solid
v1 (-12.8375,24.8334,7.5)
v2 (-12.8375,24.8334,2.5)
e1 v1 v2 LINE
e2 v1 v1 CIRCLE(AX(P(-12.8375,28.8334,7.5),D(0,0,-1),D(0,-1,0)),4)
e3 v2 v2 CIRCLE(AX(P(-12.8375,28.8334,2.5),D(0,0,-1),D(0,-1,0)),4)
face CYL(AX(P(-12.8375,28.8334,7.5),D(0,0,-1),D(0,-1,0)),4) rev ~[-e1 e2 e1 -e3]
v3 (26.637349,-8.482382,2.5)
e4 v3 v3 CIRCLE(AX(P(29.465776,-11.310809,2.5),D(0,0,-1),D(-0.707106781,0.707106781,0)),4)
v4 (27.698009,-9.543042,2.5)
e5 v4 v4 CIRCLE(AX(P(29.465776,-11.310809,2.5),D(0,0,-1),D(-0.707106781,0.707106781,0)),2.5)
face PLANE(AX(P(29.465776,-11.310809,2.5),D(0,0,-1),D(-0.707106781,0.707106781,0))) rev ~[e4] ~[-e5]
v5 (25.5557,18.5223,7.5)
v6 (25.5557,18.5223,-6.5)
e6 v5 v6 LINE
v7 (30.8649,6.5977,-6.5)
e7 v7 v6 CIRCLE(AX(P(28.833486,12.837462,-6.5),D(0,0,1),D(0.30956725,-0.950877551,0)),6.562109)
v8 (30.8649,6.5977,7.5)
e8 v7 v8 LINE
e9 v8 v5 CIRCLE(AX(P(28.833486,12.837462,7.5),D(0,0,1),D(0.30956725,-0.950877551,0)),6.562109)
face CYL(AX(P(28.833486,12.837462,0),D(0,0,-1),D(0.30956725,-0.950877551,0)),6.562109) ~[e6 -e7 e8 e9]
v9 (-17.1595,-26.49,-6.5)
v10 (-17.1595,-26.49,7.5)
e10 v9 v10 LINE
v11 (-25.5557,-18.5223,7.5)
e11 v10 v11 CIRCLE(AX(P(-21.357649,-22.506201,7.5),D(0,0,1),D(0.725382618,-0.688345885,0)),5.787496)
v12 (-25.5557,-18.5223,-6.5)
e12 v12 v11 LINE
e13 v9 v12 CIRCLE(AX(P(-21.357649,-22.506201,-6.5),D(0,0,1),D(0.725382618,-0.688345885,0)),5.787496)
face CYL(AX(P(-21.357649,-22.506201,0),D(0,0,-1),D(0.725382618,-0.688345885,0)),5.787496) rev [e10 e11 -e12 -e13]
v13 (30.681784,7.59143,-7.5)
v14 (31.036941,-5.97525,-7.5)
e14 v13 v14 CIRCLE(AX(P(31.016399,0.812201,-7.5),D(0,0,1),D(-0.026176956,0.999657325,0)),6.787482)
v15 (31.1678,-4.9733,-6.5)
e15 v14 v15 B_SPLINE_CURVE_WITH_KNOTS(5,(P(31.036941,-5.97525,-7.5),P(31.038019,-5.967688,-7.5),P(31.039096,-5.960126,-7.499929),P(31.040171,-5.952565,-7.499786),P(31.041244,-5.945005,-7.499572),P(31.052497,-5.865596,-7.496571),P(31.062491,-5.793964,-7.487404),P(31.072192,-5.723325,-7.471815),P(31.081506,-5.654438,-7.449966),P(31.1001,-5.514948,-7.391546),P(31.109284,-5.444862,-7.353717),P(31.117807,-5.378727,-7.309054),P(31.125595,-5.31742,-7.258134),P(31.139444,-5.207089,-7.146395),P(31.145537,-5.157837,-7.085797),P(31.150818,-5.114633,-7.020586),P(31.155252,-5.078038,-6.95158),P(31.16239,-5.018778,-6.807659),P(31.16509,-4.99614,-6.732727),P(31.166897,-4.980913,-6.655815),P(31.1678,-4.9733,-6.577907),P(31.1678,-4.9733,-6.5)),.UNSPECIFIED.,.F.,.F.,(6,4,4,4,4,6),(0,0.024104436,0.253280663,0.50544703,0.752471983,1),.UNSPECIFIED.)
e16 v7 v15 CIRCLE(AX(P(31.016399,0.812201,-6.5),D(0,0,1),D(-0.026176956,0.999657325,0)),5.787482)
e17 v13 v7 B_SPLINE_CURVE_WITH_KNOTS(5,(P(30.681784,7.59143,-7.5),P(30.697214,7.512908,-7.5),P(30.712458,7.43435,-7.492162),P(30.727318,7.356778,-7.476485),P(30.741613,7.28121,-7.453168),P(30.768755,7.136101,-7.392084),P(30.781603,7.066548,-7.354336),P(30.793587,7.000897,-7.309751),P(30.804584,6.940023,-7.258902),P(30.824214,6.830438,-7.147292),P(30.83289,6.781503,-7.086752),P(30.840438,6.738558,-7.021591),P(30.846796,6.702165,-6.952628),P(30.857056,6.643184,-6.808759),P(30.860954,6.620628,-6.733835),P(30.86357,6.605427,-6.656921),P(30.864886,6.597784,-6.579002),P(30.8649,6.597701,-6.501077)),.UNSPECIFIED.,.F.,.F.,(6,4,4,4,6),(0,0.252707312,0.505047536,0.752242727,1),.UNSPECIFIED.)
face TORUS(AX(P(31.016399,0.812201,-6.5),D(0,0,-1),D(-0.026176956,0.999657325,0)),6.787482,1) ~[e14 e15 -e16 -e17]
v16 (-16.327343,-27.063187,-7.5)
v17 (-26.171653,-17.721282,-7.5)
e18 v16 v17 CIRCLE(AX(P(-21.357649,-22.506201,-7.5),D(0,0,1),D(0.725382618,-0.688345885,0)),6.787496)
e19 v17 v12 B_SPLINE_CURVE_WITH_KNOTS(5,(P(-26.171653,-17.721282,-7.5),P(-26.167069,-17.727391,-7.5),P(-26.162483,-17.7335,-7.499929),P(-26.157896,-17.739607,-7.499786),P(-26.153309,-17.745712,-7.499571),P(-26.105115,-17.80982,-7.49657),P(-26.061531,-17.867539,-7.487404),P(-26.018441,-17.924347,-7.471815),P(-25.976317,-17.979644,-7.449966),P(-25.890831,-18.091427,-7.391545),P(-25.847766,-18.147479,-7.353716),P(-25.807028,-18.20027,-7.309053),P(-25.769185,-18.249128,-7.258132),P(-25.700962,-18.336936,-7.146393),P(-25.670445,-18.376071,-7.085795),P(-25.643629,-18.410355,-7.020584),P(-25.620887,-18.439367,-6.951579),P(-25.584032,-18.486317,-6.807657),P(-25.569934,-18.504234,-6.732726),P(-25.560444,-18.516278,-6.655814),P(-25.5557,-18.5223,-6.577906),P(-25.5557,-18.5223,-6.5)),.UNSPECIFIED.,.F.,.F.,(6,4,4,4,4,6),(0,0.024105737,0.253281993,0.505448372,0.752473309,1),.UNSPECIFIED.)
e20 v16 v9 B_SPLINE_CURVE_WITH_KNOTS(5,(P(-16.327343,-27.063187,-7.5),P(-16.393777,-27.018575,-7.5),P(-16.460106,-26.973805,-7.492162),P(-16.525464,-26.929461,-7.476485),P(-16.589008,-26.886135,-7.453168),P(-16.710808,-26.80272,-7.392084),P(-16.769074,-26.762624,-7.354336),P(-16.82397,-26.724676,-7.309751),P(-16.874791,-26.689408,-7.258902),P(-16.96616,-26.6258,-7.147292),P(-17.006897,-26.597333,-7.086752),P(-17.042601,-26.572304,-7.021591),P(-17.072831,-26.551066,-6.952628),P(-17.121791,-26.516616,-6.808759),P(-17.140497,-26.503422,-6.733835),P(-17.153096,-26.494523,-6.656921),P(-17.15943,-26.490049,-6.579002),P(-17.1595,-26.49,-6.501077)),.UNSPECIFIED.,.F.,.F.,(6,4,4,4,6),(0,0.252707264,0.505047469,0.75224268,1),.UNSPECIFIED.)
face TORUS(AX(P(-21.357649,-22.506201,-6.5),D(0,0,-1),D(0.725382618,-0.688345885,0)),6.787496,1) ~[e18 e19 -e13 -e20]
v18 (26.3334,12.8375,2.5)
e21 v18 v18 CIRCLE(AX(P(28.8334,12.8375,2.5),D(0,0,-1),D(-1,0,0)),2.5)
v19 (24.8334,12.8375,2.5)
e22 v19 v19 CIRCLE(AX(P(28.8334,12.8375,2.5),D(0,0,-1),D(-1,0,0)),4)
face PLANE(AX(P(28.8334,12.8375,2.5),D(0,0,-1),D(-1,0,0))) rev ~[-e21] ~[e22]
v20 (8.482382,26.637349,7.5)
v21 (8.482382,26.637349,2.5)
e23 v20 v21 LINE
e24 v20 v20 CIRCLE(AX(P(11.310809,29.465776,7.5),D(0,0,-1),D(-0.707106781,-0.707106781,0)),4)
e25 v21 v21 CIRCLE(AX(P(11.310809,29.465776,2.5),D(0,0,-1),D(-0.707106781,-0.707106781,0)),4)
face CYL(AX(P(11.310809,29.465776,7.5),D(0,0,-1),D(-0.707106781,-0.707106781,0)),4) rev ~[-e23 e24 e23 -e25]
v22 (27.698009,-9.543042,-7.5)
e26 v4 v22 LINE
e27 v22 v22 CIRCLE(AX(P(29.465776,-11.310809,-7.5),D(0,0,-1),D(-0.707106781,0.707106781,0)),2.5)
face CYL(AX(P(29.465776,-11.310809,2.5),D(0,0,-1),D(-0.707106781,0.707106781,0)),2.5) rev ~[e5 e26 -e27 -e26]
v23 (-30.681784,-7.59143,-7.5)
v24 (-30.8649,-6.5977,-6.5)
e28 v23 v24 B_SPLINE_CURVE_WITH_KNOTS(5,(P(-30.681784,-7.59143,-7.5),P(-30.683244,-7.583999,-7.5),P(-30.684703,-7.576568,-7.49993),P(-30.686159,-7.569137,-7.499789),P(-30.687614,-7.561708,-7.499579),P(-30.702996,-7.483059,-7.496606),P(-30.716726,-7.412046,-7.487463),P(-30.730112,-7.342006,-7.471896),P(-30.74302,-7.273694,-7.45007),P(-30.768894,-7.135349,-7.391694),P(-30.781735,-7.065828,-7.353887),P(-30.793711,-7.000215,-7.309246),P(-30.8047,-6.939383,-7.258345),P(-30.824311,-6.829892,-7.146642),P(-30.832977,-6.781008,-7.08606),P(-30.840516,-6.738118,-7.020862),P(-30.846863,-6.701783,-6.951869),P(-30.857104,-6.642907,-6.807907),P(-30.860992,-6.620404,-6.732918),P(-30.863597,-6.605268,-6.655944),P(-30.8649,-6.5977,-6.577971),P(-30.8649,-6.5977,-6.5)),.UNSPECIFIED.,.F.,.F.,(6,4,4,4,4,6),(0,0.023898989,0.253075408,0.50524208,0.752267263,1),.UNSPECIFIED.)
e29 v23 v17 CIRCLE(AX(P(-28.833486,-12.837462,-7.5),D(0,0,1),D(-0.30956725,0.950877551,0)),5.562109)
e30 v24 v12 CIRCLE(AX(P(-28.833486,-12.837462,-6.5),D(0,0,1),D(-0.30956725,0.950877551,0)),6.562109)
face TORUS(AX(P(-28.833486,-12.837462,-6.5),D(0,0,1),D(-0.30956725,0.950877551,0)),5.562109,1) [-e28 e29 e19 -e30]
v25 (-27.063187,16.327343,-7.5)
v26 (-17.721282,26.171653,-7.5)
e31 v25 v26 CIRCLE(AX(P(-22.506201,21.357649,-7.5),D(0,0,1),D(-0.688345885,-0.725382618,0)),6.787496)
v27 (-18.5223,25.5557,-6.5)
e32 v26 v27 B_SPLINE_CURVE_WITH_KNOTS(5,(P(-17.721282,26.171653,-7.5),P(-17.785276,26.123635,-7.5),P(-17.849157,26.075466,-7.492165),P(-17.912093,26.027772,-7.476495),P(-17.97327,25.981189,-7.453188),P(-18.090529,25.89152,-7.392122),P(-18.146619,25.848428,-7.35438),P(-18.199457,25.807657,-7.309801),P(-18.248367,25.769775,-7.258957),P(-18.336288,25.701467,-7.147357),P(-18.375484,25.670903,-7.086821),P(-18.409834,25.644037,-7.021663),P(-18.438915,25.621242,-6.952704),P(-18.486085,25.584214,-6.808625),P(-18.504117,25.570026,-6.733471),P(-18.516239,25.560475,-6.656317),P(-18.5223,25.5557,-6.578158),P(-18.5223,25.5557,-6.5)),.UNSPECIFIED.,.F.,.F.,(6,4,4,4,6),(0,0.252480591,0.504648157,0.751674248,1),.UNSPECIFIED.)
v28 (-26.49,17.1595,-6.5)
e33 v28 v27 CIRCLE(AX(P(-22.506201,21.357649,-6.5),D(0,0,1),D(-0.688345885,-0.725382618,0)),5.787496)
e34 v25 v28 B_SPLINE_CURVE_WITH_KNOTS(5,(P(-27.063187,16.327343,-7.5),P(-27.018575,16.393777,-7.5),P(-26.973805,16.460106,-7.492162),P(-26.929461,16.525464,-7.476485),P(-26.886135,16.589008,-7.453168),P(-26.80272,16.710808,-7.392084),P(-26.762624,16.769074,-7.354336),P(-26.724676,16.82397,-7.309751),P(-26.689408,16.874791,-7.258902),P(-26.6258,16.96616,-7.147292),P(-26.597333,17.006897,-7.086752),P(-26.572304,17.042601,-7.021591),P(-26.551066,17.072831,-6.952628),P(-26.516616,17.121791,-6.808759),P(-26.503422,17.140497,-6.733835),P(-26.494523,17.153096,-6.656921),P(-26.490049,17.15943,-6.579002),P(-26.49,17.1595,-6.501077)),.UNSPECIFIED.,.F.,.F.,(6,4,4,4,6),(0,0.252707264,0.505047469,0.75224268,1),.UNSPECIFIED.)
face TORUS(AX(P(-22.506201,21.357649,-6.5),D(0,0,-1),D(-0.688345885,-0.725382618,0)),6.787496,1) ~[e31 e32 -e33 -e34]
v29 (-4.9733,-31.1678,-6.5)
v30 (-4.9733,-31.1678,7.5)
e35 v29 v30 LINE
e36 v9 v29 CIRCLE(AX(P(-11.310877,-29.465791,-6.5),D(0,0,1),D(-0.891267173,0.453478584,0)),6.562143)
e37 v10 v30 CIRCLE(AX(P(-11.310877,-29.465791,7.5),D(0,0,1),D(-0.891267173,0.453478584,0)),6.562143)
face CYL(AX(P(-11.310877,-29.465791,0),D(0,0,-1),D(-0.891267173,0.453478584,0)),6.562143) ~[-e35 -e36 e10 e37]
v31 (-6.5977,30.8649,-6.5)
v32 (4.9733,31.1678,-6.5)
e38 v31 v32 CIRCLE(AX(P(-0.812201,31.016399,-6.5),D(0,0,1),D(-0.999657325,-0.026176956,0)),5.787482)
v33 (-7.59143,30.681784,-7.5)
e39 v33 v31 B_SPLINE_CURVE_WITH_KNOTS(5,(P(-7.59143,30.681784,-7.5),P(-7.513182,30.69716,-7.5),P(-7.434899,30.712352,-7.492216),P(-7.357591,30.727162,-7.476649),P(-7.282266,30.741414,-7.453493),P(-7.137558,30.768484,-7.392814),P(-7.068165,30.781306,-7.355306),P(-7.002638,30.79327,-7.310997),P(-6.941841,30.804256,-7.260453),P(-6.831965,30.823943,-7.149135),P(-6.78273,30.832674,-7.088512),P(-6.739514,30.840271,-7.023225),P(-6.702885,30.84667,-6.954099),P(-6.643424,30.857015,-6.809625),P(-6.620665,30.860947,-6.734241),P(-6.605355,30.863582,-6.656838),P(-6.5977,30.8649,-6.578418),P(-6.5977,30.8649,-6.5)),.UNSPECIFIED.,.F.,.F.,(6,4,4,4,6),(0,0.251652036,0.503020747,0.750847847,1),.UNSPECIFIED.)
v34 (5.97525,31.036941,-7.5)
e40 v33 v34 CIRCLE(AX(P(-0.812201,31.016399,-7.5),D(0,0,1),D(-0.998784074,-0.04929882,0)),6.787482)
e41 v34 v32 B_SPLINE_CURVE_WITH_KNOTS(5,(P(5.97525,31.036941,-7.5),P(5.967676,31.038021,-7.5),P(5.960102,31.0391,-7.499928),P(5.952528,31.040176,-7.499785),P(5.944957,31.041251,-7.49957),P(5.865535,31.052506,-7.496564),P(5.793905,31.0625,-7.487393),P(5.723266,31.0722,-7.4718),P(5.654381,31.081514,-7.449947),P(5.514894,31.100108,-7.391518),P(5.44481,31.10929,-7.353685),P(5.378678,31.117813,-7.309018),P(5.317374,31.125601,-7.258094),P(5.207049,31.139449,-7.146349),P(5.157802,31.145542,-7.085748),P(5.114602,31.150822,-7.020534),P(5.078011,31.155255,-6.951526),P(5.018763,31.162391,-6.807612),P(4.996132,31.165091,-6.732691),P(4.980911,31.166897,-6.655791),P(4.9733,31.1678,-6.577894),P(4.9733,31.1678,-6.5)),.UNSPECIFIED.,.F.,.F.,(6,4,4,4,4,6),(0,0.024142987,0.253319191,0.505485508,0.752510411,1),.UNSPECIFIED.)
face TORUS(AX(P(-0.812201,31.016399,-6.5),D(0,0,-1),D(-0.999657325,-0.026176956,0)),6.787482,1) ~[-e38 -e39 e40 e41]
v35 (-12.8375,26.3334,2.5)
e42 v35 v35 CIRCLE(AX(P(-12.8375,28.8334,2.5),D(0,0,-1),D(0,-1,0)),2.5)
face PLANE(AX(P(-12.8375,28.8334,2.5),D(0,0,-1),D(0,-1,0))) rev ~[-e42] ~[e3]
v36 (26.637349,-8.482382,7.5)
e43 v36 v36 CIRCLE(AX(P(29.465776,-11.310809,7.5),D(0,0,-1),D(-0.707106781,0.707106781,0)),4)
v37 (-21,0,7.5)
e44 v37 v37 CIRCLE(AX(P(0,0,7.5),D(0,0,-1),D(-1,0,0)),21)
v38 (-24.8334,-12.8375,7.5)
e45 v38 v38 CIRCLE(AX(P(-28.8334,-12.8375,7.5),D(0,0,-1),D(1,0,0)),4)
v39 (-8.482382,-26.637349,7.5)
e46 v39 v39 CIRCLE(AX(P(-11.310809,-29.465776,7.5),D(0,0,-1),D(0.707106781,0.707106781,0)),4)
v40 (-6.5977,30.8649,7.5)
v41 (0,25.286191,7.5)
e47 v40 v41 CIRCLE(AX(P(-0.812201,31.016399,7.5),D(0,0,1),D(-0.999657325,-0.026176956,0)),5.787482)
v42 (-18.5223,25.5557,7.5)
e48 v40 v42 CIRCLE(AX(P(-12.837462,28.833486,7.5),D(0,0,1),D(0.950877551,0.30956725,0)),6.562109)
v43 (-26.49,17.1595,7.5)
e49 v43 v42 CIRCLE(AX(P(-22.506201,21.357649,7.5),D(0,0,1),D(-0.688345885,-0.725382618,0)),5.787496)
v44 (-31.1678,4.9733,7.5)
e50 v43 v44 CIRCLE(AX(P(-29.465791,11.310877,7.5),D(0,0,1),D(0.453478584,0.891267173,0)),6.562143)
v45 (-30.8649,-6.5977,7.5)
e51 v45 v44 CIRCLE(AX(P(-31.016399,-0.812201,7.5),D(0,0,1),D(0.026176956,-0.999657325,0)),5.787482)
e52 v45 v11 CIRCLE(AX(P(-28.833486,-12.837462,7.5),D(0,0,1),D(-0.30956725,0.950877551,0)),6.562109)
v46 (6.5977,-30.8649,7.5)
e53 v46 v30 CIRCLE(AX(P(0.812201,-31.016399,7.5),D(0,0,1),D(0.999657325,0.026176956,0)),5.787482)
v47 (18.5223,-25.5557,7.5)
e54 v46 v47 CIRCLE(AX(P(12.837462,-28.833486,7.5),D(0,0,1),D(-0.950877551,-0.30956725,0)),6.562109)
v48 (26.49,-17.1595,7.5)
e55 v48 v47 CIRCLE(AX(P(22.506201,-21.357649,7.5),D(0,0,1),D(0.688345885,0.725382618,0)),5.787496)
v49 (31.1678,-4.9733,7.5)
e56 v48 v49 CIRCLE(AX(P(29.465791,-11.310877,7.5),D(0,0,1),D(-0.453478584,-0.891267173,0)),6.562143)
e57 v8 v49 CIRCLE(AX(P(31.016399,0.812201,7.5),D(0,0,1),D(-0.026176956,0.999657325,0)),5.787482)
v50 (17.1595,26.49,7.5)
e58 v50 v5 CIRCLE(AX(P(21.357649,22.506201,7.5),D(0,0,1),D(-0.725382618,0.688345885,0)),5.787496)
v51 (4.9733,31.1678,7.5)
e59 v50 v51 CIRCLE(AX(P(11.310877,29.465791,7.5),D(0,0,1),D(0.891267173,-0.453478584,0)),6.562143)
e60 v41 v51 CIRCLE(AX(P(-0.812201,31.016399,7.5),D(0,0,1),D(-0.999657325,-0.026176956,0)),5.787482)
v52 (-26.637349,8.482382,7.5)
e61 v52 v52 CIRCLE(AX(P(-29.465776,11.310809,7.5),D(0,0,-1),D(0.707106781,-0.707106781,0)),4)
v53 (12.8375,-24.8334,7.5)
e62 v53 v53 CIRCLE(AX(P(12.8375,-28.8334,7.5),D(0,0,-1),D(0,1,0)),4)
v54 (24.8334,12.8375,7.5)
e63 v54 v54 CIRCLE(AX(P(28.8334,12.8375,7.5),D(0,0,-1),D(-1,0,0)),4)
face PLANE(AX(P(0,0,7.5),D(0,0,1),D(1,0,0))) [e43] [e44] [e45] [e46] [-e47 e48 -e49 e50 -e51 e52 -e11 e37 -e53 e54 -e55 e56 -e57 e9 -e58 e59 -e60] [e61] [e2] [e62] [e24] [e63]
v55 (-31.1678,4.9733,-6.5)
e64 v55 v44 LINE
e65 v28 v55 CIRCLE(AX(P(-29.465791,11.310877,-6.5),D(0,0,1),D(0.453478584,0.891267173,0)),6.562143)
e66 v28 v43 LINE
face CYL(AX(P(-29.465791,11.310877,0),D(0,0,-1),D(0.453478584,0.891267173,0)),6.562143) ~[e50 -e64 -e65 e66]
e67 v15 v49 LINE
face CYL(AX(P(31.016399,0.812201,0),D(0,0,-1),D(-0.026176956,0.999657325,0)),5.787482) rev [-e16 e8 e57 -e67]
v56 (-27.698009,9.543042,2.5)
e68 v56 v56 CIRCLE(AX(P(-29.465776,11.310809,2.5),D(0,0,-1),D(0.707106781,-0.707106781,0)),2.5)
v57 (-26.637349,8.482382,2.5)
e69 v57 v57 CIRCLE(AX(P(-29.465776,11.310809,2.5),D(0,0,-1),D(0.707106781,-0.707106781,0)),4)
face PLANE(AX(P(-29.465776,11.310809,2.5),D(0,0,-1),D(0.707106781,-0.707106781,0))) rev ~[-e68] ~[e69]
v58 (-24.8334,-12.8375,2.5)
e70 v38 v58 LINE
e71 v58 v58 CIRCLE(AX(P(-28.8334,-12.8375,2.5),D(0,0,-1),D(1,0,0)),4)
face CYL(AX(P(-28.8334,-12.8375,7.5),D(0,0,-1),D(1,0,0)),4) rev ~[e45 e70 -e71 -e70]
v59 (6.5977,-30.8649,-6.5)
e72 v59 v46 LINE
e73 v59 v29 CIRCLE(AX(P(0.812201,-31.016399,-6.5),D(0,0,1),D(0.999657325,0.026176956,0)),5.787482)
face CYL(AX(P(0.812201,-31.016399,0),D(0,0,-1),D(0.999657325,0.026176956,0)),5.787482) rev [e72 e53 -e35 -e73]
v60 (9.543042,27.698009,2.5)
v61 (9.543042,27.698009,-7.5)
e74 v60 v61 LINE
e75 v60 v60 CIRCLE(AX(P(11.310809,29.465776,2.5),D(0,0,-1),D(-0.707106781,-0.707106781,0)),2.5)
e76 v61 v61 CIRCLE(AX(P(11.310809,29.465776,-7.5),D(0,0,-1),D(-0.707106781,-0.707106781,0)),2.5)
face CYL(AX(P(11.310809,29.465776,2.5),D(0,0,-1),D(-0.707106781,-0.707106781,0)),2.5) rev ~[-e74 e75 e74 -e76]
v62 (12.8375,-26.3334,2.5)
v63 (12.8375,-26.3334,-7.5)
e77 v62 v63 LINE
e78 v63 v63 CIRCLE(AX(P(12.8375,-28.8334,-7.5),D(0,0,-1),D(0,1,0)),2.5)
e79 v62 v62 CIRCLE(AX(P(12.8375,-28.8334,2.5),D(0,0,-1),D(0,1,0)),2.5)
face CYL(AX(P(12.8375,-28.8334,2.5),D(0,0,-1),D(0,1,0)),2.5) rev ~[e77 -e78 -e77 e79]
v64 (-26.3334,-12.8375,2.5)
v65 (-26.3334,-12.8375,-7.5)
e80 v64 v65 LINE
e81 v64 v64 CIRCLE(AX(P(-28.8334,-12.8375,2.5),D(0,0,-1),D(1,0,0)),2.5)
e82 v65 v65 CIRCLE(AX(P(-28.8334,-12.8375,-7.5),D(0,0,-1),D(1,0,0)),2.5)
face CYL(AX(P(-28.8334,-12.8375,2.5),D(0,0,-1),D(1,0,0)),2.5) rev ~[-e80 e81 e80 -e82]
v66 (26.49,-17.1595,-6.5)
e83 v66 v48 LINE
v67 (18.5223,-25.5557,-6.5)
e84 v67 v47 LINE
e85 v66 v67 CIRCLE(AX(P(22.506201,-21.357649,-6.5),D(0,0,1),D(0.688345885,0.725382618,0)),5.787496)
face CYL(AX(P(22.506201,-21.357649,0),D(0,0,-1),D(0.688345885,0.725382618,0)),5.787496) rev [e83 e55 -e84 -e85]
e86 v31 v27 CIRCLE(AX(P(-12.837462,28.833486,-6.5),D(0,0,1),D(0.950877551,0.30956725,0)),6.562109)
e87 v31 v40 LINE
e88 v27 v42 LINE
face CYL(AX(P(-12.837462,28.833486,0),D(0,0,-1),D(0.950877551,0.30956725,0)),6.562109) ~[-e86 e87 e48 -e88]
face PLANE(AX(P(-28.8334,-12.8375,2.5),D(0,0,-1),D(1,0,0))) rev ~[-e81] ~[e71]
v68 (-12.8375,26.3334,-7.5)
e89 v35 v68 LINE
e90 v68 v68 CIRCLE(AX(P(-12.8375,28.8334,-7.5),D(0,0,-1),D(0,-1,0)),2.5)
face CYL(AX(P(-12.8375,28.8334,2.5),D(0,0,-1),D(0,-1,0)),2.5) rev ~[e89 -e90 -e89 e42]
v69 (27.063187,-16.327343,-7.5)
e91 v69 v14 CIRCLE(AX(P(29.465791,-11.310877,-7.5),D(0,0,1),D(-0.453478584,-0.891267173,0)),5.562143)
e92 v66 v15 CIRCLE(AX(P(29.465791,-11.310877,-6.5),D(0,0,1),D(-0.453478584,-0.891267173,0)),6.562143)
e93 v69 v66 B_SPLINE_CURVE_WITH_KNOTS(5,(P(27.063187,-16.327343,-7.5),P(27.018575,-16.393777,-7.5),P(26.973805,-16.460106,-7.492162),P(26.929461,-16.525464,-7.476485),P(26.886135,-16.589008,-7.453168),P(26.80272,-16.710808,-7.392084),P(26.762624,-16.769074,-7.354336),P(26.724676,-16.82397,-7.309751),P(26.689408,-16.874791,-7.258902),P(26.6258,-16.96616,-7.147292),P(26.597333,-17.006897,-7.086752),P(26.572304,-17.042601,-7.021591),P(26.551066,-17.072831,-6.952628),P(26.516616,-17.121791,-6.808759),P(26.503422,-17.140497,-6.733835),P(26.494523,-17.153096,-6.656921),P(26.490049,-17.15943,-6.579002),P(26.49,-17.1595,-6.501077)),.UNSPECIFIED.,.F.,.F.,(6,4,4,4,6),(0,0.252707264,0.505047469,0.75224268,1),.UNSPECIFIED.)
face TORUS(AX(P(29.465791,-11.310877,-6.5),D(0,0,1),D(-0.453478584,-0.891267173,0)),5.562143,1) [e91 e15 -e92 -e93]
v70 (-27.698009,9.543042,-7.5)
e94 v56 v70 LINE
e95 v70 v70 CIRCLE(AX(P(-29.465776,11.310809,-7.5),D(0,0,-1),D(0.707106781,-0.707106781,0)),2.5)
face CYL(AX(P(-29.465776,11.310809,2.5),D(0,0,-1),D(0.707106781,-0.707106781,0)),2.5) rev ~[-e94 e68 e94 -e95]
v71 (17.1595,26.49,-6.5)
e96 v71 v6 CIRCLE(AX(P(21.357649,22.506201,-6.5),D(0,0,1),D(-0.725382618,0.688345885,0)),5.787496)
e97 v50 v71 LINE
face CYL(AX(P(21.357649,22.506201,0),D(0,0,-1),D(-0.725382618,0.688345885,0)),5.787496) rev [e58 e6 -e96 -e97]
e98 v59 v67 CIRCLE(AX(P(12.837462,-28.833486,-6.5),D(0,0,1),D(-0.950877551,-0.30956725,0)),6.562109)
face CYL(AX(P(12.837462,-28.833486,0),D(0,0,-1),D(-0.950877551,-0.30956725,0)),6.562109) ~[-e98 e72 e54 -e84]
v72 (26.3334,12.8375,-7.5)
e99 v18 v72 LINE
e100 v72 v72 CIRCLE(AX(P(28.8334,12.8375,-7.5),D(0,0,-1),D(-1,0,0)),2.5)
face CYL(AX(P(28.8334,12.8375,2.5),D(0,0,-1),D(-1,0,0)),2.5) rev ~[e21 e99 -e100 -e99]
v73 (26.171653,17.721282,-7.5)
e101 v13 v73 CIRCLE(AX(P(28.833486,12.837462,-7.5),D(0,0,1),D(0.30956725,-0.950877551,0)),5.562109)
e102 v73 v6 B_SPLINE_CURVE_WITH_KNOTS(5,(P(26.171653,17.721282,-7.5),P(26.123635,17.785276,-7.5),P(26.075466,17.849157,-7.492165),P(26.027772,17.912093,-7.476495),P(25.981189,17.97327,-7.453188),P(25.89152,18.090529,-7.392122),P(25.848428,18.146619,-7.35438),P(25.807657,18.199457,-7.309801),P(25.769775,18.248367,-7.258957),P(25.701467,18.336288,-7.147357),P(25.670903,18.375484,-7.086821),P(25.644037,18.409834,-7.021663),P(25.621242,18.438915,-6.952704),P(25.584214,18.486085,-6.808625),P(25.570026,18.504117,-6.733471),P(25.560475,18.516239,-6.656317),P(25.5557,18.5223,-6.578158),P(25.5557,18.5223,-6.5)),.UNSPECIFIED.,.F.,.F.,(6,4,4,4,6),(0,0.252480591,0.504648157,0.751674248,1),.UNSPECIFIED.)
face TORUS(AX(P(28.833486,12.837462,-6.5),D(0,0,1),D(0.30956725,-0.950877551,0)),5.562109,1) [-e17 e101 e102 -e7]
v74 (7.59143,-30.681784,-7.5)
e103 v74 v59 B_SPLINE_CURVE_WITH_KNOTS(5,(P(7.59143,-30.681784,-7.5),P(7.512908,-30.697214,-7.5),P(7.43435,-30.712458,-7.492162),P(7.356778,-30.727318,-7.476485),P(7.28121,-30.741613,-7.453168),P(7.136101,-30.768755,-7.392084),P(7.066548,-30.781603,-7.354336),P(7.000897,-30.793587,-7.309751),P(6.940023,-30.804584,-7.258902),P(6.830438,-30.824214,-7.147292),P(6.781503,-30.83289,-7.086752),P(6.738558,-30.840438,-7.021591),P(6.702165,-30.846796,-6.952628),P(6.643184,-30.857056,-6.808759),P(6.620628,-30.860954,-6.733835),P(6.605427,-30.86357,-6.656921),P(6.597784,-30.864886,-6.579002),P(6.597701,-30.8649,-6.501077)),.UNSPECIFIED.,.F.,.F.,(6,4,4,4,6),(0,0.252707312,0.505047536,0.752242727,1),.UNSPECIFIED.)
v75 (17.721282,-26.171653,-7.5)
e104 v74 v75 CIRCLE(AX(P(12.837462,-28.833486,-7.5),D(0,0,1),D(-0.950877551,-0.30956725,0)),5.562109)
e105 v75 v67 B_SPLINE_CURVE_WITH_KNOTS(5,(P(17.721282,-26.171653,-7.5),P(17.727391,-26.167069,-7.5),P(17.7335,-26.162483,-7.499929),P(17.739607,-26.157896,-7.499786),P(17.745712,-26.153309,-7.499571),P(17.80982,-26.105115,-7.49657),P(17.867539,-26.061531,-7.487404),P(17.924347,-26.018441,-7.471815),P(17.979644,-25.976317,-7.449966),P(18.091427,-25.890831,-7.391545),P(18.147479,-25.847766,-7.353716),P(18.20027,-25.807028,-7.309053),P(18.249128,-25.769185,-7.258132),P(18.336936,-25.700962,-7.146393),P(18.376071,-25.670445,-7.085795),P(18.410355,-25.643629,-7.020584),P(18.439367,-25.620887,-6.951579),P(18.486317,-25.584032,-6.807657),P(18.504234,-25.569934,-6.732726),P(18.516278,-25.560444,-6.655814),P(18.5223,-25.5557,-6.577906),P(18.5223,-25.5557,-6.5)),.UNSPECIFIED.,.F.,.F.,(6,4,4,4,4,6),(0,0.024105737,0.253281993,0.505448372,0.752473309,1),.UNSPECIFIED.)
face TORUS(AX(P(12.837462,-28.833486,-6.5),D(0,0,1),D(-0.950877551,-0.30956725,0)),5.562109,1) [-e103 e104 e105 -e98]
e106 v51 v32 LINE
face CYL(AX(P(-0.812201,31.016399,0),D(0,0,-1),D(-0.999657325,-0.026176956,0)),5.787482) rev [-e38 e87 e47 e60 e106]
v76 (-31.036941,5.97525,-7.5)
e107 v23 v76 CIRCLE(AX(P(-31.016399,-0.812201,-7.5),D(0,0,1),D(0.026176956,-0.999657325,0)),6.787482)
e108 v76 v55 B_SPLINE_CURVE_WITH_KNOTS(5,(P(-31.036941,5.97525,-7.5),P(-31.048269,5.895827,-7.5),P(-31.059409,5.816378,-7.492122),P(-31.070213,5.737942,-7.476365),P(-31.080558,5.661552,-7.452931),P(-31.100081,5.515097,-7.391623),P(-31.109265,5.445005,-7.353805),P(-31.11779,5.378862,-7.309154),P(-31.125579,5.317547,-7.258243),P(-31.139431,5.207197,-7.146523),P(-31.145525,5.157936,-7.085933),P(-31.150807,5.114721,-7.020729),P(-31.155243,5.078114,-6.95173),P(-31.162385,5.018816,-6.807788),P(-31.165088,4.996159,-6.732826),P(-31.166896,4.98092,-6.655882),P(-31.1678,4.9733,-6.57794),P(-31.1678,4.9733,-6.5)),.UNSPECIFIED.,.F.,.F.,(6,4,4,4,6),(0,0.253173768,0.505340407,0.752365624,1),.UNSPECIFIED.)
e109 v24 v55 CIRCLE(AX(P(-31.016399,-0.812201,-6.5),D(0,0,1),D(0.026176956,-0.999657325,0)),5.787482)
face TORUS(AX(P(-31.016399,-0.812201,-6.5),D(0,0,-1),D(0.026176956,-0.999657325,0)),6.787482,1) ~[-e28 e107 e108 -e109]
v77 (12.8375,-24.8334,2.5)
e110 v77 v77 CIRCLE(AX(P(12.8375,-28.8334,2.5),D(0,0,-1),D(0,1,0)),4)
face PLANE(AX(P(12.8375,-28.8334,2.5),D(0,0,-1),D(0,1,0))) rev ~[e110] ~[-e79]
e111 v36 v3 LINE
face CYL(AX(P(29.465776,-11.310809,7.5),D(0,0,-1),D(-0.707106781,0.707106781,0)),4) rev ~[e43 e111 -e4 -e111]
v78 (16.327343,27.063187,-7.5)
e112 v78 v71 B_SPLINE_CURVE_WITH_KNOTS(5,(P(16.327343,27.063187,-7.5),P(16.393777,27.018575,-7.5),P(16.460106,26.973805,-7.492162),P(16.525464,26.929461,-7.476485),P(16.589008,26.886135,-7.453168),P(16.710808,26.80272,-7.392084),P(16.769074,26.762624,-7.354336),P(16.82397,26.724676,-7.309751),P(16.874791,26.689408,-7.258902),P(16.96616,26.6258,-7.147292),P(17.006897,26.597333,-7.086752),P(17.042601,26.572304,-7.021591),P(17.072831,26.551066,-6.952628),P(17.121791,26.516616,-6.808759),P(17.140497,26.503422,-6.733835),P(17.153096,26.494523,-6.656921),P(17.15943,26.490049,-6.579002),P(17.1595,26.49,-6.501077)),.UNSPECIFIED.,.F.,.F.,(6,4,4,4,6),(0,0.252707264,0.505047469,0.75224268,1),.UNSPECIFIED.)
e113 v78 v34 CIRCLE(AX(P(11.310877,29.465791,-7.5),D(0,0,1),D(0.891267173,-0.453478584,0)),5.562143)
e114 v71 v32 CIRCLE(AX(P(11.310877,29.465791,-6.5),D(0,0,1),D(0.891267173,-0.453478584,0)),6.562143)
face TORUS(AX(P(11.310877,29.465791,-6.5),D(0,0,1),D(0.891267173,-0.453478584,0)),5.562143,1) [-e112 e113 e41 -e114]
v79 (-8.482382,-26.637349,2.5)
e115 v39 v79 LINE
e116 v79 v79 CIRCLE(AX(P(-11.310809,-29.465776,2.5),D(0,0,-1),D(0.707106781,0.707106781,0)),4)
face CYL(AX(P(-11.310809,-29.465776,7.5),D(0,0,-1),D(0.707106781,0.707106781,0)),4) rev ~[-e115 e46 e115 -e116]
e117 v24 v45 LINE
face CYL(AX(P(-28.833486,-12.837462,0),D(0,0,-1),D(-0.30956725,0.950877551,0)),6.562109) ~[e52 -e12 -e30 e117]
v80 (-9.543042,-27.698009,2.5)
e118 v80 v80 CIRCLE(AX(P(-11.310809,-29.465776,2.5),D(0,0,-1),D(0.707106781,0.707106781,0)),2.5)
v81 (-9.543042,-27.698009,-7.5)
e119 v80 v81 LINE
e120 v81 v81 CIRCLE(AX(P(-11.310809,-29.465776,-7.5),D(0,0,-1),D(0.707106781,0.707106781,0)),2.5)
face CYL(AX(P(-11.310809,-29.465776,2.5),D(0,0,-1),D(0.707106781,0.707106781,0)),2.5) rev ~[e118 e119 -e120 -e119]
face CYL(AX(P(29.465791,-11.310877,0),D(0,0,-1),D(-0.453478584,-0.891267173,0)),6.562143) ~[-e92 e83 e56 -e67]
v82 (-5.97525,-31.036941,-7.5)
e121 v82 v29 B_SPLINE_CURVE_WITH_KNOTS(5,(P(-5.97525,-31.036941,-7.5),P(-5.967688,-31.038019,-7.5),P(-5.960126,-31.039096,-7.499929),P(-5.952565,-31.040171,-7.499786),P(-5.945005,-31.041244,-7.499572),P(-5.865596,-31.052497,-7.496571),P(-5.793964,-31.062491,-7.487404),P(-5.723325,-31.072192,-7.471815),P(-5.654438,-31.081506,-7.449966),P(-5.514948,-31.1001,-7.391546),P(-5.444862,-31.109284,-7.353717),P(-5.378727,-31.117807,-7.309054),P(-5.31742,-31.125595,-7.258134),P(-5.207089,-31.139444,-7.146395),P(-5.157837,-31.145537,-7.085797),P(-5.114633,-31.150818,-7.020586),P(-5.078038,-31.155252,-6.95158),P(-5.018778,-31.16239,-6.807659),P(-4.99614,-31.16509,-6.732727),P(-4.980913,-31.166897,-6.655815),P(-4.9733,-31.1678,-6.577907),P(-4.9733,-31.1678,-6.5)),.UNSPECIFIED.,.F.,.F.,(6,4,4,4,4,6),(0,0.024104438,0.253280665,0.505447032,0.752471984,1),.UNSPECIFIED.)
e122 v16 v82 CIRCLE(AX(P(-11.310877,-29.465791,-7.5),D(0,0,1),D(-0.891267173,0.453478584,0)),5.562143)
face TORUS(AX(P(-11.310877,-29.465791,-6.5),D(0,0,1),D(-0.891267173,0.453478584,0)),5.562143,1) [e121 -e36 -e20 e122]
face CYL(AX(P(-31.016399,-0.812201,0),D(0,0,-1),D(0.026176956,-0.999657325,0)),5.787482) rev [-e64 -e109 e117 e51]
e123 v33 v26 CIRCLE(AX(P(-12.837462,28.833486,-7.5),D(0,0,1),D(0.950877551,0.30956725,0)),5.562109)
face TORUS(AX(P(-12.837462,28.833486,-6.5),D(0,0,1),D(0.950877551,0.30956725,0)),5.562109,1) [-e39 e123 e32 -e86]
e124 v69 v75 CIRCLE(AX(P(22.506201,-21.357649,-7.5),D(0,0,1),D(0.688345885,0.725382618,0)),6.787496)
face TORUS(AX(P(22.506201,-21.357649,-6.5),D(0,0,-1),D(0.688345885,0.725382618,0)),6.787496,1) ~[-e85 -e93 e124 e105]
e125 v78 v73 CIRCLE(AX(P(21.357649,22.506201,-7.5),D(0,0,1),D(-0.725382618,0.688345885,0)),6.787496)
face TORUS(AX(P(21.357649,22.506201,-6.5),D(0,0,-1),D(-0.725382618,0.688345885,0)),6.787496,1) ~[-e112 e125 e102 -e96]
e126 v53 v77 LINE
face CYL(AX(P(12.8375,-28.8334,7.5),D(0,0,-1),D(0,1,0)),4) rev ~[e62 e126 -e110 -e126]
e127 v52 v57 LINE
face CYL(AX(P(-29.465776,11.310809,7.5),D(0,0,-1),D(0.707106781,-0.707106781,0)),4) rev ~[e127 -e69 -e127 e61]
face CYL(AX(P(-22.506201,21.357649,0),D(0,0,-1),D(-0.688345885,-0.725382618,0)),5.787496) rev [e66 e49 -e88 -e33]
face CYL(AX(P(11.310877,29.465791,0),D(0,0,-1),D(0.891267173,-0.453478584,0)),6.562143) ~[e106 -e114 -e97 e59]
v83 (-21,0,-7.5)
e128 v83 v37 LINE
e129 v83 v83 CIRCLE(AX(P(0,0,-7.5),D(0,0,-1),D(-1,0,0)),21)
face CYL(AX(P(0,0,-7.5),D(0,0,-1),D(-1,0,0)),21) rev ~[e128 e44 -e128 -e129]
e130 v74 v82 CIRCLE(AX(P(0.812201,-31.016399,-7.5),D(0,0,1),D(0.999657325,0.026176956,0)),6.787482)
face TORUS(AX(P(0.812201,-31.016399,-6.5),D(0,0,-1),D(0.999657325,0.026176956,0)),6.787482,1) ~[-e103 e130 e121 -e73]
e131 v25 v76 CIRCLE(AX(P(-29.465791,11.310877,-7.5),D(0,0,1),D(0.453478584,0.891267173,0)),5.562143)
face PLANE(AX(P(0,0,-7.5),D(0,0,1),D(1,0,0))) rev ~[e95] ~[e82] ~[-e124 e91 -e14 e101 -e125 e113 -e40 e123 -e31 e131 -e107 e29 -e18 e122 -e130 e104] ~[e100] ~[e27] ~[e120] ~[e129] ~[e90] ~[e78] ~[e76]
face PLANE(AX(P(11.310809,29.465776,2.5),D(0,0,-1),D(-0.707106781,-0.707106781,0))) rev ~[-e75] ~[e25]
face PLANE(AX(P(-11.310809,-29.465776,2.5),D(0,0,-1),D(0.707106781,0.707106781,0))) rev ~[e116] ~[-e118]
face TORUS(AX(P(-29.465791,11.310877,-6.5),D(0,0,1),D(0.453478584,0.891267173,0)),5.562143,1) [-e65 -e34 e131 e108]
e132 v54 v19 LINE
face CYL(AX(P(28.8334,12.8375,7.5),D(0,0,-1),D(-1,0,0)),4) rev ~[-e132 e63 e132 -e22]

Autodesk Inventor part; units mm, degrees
ref_plane "YZ Plane" through (0, 0, 0) normal (1, 0, 0) x (0, 1, 0)
ref_plane "XZ Plane" through (0, 0, 0) normal (0, 1, 0) x (-1, 0, 0)
ref_plane "XY Plane" through (0, 0, 0) normal (0, 0, 1) x (1, 0, 0)
sketch "Sketch1" plane through (0, 0, 0) normal (0, 0, 1) x (1, 0, 0)
  circle A0 centre (0, 0) radius 25
  line L0 (0, 0) -> (-11.961, 26.8649)
  line L1 (0, 0) -> (-16.8529, 23.196)
  arc A1 (-6.5977, 30.8649) -> (-18.5223, 25.5557) centre (-12.8375, 28.8334) ccw
  circle A2 centre (0, 0) radius 31.5621
  line L2 (0, 0) -> (0, 31.5621)
  line L3 (0, 0) -> (-5.1978, 24.4537)
  arc A3 (-26.49, 17.1595) -> (-31.1678, 4.9733) centre (-29.4658, 11.3109) ccw
  arc A4 (-30.8649, -6.5977) -> (-25.5557, -18.5223) centre (-28.8334, -12.8375) ccw
  arc A5 (-17.1595, -26.49) -> (-4.9733, -31.1678) centre (-11.3109, -29.4658) ccw
  arc A6 (6.5977, -30.8649) -> (18.5223, -25.5557) centre (12.8375, -28.8334) ccw
  arc A7 (26.49, -17.1595) -> (31.1678, -4.9733) centre (29.4658, -11.3109) ccw
  arc A8 (30.8649, 6.5977) -> (25.5557, 18.5223) centre (28.8334, 12.8375) ccw
  arc A9 (17.1595, 26.49) -> (4.9733, 31.1678) centre (11.3109, 29.4658) ccw
  arc A10 (-6.5977, 30.8649) -> (4.9733, 31.1678) centre (-0.8122, 31.0164) ccw
  arc A11 (-26.49, 17.1595) -> (-18.5223, 25.5557) centre (-22.5062, 21.3576) ccw
  arc A12 (-30.8649, -6.5977) -> (-31.1678, 4.9733) centre (-31.0164, -0.8122) ccw
  arc A13 (-17.1595, -26.49) -> (-25.5557, -18.5223) centre (-21.3576, -22.5062) ccw
  arc A14 (6.5977, -30.8649) -> (-4.9733, -31.1678) centre (0.8122, -31.0164) ccw
  arc A15 (26.49, -17.1595) -> (18.5223, -25.5557) centre (22.5062, -21.3576) ccw
  arc A16 (30.8649, 6.5977) -> (31.1678, -4.9733) centre (31.0164, 0.8122) ccw
  arc A17 (17.1595, 26.49) -> (25.5557, 18.5223) centre (21.3576, 22.5062) ccw
  point P0 (-18.5223, 25.5557)
  point P1 (-26.49, 17.1595)
  point P2 (-31.1678, 4.9733)
  point P3 (-30.8649, -6.5977)
  point P4 (-25.5557, -18.5223)
  point P5 (-17.1595, -26.49)
  point P6 (-4.9733, -31.1678)
  point P7 (6.5977, -30.8649)
  point P8 (18.5223, -25.5557)
  point P9 (26.49, -17.1595)
  point P10 (31.1678, -4.9733)
  point P11 (30.8649, 6.5977)
  point P12 (25.5557, 18.5223)
  point P13 (17.1595, 26.49)
  point P14 (4.9733, 31.1678)
  dimension "d0" = 50
  dimension "d29" = 12
  dimension "d36" = 24
  dimension "d41" = 360
  dimension "d45" = 360
extrude "Extrusion3" add sketch "Sketch1" along normal mid plane 15 contours A0 L1 L2 | L2 L3 A0 | A0 L0 L1 | L3 L0 A0
extrude "Extrusion4" add sketch "Sketch1" along normal mid plane 15 contours A10 A2 A17 A16 A15 A14 A13 A12 A11 | A2 A1 | A9 A2 | A2 A3 | A8 A2 | A2 A4 | A7 A2 | A2 A5 | A6 A2
fillet "Fillet2" radius 1 16 edges at (-35.5921, 13.6625, -7.5) (-18.3081, 17.3737, -7.5) (-15.5065, 34.8283, -7.5) (-0.6607, 25.2309, -7.5) (13.6625, 35.5921, -7.5) (17.3737, 18.3081, -7.5) (34.8283, 15.5065, -7.5) (25.2309, 0.6607, -7.5) (35.5921, -13.6625, -7.5) (18.3081, -17.3737, -7.5) (15.5065, -34.8283, -7.5) (0.6607, -25.2309, -7.5) (-13.6625, -35.5921, -7.5) (-17.3737, -18.3081, -7.5) (-34.8283, -15.5065, -7.5) (-25.2309, -0.6607, -7.5)
sketch "Sketch3" plane through (0, 0, -7.5) normal (0, 0, -1) x (-1, 0, 0)
  circle A0 centre (0, 0) radius 21
  dimension "d50" = 42
extrude "Extrusion5" cut sketch "Sketch3" against normal through all
sketch "Sketch4" plane through (0, 0, 7.5) normal (0, 0, 1) x (1, 0, 0)
  arc A0 (-6.5977, 30.8649) -> (-18.5223, 25.5557) centre (-12.8375, 28.8334) ccw projected
  arc A1 (-6.5977, 30.8649) -> (4.9733, 31.1678) centre (-0.8122, 31.0164) ccw projected
  arc A2 (17.1595, 26.49) -> (4.9733, 31.1678) centre (11.3109, 29.4658) ccw projected
  arc A3 (17.1595, 26.49) -> (25.5557, 18.5223) centre (21.3576, 22.5062) ccw projected
  arc A4 (30.8649, 6.5977) -> (25.5557, 18.5223) centre (28.8334, 12.8375) ccw projected
  arc A5 (30.8649, 6.5977) -> (31.1678, -4.9733) centre (31.0164, 0.8122) ccw projected
  arc A6 (26.49, -17.1595) -> (31.1678, -4.9733) centre (29.4658, -11.3109) ccw projected
  arc A7 (26.49, -17.1595) -> (18.5223, -25.5557) centre (22.5062, -21.3576) ccw projected
  arc A8 (6.5977, -30.8649) -> (18.5223, -25.5557) centre (12.8375, -28.8334) ccw projected
  arc A9 (6.5977, -30.8649) -> (-4.9733, -31.1678) centre (0.8122, -31.0164) ccw projected
  arc A10 (-17.1595, -26.49) -> (-4.9733, -31.1678) centre (-11.3109, -29.4658) ccw projected
  arc A11 (-17.1595, -26.49) -> (-25.5557, -18.5223) centre (-21.3576, -22.5062) ccw projected
  arc A12 (-30.6817, -7.5914) -> (-26.1716, -17.7213) centre (-28.8334, -12.8375) ccw projected
  arc A13 (-30.8649, -6.5977) -> (-25.5557, -18.5223) centre (-28.8334, -12.8375) ccw projected
  arc A14 (-30.8649, -6.5977) -> (-31.1678, 4.9733) centre (-31.0164, -0.8122) ccw projected
  arc A15 (-26.49, 17.1595) -> (-31.1678, 4.9733) centre (-29.4658, 11.3109) ccw projected
  arc A16 (-26.49, 17.1595) -> (-18.5223, 25.5557) centre (-22.5062, 21.3576) ccw projected
  point P0 (0, 0)
sketch "Sketch8" plane through (0, 0, 7.5) normal (0, 0, 1) x (1, 0, 0)
  circle A0 centre (0, 0) radius 21 projected
  arc A1 (-26.49, 17.1595) -> (-31.1678, 4.9733) centre (-29.4658, 11.3109) ccw projected
  arc A2 (-30.8649, -6.5977) -> (-31.1678, 4.9733) centre (-31.0164, -0.8122) ccw projected
  arc A3 (-30.8649, -6.5977) -> (-25.5557, -18.5223) centre (-28.8334, -12.8375) ccw projected
  arc A4 (-17.1595, -26.49) -> (-25.5557, -18.5223) centre (-21.3576, -22.5062) ccw projected
  arc A5 (-17.1595, -26.49) -> (-4.9733, -31.1678) centre (-11.3109, -29.4658) ccw projected
  arc A6 (6.5977, -30.8649) -> (-4.9733, -31.1678) centre (0.8122, -31.0164) ccw projected
  arc A7 (6.5977, -30.8649) -> (18.5223, -25.5557) centre (12.8375, -28.8334) ccw projected
  arc A8 (26.49, -17.1595) -> (18.5223, -25.5557) centre (22.5062, -21.3576) ccw projected
  arc A9 (26.49, -17.1595) -> (31.1678, -4.9733) centre (29.4658, -11.3109) ccw projected
  arc A10 (30.8649, 6.5977) -> (31.1678, -4.9733) centre (31.0164, 0.8122) ccw projected
  arc A11 (30.8649, 6.5977) -> (25.5557, 18.5223) centre (28.8334, 12.8375) ccw projected
  arc A12 (17.1595, 26.49) -> (25.5557, 18.5223) centre (21.3576, 22.5062) ccw projected
  arc A13 (17.1595, 26.49) -> (4.9733, 31.1678) centre (11.3109, 29.4658) ccw projected
  arc A14 (-6.5977, 30.8649) -> (4.9733, 31.1678) centre (-0.8122, 31.0164) ccw projected
  arc A15 (-6.5977, 30.8649) -> (-18.5223, 25.5557) centre (-12.8375, 28.8334) ccw projected
  arc A16 (-26.49, 17.1595) -> (-18.5223, 25.5557) centre (-22.5062, 21.3576) ccw projected
hole "Hole1" at (-12.8375, 28.8334, 7.5) direction (0, 0, -1) diameter 5 end through all counterbore diameter 8 counterbore depth 5
pattern_circular "Circular Pattern2" count 8 over 360 about axis through (0, 0, -10) along (0, 0, 1) of "Hole1"
sketch "Sketch9" plane through (0, 0, 7.5) normal (0, 0, 1) x (1, 0, 0)
  circle A0 centre (-12.8375, 28.8334) radius 2.5 projected
  circle A1 centre (11.3109, 29.4658) radius 2.5 projected
  circle A2 centre (28.8334, 12.8375) radius 2.5 projected
  circle A3 centre (29.4658, -11.3109) radius 2.5 projected
  circle A4 centre (12.8375, -28.8334) radius 2.5 projected
  circle A5 centre (-11.3109, -29.4658) radius 2.5 projected
  circle A6 centre (-28.8334, -12.8375) radius 2.5 projected
  circle A7 centre (-29.4658, 11.3109) radius 2.5 projected
  point P0 (0, 0)
properties part number "Cycloidal gear 02"
